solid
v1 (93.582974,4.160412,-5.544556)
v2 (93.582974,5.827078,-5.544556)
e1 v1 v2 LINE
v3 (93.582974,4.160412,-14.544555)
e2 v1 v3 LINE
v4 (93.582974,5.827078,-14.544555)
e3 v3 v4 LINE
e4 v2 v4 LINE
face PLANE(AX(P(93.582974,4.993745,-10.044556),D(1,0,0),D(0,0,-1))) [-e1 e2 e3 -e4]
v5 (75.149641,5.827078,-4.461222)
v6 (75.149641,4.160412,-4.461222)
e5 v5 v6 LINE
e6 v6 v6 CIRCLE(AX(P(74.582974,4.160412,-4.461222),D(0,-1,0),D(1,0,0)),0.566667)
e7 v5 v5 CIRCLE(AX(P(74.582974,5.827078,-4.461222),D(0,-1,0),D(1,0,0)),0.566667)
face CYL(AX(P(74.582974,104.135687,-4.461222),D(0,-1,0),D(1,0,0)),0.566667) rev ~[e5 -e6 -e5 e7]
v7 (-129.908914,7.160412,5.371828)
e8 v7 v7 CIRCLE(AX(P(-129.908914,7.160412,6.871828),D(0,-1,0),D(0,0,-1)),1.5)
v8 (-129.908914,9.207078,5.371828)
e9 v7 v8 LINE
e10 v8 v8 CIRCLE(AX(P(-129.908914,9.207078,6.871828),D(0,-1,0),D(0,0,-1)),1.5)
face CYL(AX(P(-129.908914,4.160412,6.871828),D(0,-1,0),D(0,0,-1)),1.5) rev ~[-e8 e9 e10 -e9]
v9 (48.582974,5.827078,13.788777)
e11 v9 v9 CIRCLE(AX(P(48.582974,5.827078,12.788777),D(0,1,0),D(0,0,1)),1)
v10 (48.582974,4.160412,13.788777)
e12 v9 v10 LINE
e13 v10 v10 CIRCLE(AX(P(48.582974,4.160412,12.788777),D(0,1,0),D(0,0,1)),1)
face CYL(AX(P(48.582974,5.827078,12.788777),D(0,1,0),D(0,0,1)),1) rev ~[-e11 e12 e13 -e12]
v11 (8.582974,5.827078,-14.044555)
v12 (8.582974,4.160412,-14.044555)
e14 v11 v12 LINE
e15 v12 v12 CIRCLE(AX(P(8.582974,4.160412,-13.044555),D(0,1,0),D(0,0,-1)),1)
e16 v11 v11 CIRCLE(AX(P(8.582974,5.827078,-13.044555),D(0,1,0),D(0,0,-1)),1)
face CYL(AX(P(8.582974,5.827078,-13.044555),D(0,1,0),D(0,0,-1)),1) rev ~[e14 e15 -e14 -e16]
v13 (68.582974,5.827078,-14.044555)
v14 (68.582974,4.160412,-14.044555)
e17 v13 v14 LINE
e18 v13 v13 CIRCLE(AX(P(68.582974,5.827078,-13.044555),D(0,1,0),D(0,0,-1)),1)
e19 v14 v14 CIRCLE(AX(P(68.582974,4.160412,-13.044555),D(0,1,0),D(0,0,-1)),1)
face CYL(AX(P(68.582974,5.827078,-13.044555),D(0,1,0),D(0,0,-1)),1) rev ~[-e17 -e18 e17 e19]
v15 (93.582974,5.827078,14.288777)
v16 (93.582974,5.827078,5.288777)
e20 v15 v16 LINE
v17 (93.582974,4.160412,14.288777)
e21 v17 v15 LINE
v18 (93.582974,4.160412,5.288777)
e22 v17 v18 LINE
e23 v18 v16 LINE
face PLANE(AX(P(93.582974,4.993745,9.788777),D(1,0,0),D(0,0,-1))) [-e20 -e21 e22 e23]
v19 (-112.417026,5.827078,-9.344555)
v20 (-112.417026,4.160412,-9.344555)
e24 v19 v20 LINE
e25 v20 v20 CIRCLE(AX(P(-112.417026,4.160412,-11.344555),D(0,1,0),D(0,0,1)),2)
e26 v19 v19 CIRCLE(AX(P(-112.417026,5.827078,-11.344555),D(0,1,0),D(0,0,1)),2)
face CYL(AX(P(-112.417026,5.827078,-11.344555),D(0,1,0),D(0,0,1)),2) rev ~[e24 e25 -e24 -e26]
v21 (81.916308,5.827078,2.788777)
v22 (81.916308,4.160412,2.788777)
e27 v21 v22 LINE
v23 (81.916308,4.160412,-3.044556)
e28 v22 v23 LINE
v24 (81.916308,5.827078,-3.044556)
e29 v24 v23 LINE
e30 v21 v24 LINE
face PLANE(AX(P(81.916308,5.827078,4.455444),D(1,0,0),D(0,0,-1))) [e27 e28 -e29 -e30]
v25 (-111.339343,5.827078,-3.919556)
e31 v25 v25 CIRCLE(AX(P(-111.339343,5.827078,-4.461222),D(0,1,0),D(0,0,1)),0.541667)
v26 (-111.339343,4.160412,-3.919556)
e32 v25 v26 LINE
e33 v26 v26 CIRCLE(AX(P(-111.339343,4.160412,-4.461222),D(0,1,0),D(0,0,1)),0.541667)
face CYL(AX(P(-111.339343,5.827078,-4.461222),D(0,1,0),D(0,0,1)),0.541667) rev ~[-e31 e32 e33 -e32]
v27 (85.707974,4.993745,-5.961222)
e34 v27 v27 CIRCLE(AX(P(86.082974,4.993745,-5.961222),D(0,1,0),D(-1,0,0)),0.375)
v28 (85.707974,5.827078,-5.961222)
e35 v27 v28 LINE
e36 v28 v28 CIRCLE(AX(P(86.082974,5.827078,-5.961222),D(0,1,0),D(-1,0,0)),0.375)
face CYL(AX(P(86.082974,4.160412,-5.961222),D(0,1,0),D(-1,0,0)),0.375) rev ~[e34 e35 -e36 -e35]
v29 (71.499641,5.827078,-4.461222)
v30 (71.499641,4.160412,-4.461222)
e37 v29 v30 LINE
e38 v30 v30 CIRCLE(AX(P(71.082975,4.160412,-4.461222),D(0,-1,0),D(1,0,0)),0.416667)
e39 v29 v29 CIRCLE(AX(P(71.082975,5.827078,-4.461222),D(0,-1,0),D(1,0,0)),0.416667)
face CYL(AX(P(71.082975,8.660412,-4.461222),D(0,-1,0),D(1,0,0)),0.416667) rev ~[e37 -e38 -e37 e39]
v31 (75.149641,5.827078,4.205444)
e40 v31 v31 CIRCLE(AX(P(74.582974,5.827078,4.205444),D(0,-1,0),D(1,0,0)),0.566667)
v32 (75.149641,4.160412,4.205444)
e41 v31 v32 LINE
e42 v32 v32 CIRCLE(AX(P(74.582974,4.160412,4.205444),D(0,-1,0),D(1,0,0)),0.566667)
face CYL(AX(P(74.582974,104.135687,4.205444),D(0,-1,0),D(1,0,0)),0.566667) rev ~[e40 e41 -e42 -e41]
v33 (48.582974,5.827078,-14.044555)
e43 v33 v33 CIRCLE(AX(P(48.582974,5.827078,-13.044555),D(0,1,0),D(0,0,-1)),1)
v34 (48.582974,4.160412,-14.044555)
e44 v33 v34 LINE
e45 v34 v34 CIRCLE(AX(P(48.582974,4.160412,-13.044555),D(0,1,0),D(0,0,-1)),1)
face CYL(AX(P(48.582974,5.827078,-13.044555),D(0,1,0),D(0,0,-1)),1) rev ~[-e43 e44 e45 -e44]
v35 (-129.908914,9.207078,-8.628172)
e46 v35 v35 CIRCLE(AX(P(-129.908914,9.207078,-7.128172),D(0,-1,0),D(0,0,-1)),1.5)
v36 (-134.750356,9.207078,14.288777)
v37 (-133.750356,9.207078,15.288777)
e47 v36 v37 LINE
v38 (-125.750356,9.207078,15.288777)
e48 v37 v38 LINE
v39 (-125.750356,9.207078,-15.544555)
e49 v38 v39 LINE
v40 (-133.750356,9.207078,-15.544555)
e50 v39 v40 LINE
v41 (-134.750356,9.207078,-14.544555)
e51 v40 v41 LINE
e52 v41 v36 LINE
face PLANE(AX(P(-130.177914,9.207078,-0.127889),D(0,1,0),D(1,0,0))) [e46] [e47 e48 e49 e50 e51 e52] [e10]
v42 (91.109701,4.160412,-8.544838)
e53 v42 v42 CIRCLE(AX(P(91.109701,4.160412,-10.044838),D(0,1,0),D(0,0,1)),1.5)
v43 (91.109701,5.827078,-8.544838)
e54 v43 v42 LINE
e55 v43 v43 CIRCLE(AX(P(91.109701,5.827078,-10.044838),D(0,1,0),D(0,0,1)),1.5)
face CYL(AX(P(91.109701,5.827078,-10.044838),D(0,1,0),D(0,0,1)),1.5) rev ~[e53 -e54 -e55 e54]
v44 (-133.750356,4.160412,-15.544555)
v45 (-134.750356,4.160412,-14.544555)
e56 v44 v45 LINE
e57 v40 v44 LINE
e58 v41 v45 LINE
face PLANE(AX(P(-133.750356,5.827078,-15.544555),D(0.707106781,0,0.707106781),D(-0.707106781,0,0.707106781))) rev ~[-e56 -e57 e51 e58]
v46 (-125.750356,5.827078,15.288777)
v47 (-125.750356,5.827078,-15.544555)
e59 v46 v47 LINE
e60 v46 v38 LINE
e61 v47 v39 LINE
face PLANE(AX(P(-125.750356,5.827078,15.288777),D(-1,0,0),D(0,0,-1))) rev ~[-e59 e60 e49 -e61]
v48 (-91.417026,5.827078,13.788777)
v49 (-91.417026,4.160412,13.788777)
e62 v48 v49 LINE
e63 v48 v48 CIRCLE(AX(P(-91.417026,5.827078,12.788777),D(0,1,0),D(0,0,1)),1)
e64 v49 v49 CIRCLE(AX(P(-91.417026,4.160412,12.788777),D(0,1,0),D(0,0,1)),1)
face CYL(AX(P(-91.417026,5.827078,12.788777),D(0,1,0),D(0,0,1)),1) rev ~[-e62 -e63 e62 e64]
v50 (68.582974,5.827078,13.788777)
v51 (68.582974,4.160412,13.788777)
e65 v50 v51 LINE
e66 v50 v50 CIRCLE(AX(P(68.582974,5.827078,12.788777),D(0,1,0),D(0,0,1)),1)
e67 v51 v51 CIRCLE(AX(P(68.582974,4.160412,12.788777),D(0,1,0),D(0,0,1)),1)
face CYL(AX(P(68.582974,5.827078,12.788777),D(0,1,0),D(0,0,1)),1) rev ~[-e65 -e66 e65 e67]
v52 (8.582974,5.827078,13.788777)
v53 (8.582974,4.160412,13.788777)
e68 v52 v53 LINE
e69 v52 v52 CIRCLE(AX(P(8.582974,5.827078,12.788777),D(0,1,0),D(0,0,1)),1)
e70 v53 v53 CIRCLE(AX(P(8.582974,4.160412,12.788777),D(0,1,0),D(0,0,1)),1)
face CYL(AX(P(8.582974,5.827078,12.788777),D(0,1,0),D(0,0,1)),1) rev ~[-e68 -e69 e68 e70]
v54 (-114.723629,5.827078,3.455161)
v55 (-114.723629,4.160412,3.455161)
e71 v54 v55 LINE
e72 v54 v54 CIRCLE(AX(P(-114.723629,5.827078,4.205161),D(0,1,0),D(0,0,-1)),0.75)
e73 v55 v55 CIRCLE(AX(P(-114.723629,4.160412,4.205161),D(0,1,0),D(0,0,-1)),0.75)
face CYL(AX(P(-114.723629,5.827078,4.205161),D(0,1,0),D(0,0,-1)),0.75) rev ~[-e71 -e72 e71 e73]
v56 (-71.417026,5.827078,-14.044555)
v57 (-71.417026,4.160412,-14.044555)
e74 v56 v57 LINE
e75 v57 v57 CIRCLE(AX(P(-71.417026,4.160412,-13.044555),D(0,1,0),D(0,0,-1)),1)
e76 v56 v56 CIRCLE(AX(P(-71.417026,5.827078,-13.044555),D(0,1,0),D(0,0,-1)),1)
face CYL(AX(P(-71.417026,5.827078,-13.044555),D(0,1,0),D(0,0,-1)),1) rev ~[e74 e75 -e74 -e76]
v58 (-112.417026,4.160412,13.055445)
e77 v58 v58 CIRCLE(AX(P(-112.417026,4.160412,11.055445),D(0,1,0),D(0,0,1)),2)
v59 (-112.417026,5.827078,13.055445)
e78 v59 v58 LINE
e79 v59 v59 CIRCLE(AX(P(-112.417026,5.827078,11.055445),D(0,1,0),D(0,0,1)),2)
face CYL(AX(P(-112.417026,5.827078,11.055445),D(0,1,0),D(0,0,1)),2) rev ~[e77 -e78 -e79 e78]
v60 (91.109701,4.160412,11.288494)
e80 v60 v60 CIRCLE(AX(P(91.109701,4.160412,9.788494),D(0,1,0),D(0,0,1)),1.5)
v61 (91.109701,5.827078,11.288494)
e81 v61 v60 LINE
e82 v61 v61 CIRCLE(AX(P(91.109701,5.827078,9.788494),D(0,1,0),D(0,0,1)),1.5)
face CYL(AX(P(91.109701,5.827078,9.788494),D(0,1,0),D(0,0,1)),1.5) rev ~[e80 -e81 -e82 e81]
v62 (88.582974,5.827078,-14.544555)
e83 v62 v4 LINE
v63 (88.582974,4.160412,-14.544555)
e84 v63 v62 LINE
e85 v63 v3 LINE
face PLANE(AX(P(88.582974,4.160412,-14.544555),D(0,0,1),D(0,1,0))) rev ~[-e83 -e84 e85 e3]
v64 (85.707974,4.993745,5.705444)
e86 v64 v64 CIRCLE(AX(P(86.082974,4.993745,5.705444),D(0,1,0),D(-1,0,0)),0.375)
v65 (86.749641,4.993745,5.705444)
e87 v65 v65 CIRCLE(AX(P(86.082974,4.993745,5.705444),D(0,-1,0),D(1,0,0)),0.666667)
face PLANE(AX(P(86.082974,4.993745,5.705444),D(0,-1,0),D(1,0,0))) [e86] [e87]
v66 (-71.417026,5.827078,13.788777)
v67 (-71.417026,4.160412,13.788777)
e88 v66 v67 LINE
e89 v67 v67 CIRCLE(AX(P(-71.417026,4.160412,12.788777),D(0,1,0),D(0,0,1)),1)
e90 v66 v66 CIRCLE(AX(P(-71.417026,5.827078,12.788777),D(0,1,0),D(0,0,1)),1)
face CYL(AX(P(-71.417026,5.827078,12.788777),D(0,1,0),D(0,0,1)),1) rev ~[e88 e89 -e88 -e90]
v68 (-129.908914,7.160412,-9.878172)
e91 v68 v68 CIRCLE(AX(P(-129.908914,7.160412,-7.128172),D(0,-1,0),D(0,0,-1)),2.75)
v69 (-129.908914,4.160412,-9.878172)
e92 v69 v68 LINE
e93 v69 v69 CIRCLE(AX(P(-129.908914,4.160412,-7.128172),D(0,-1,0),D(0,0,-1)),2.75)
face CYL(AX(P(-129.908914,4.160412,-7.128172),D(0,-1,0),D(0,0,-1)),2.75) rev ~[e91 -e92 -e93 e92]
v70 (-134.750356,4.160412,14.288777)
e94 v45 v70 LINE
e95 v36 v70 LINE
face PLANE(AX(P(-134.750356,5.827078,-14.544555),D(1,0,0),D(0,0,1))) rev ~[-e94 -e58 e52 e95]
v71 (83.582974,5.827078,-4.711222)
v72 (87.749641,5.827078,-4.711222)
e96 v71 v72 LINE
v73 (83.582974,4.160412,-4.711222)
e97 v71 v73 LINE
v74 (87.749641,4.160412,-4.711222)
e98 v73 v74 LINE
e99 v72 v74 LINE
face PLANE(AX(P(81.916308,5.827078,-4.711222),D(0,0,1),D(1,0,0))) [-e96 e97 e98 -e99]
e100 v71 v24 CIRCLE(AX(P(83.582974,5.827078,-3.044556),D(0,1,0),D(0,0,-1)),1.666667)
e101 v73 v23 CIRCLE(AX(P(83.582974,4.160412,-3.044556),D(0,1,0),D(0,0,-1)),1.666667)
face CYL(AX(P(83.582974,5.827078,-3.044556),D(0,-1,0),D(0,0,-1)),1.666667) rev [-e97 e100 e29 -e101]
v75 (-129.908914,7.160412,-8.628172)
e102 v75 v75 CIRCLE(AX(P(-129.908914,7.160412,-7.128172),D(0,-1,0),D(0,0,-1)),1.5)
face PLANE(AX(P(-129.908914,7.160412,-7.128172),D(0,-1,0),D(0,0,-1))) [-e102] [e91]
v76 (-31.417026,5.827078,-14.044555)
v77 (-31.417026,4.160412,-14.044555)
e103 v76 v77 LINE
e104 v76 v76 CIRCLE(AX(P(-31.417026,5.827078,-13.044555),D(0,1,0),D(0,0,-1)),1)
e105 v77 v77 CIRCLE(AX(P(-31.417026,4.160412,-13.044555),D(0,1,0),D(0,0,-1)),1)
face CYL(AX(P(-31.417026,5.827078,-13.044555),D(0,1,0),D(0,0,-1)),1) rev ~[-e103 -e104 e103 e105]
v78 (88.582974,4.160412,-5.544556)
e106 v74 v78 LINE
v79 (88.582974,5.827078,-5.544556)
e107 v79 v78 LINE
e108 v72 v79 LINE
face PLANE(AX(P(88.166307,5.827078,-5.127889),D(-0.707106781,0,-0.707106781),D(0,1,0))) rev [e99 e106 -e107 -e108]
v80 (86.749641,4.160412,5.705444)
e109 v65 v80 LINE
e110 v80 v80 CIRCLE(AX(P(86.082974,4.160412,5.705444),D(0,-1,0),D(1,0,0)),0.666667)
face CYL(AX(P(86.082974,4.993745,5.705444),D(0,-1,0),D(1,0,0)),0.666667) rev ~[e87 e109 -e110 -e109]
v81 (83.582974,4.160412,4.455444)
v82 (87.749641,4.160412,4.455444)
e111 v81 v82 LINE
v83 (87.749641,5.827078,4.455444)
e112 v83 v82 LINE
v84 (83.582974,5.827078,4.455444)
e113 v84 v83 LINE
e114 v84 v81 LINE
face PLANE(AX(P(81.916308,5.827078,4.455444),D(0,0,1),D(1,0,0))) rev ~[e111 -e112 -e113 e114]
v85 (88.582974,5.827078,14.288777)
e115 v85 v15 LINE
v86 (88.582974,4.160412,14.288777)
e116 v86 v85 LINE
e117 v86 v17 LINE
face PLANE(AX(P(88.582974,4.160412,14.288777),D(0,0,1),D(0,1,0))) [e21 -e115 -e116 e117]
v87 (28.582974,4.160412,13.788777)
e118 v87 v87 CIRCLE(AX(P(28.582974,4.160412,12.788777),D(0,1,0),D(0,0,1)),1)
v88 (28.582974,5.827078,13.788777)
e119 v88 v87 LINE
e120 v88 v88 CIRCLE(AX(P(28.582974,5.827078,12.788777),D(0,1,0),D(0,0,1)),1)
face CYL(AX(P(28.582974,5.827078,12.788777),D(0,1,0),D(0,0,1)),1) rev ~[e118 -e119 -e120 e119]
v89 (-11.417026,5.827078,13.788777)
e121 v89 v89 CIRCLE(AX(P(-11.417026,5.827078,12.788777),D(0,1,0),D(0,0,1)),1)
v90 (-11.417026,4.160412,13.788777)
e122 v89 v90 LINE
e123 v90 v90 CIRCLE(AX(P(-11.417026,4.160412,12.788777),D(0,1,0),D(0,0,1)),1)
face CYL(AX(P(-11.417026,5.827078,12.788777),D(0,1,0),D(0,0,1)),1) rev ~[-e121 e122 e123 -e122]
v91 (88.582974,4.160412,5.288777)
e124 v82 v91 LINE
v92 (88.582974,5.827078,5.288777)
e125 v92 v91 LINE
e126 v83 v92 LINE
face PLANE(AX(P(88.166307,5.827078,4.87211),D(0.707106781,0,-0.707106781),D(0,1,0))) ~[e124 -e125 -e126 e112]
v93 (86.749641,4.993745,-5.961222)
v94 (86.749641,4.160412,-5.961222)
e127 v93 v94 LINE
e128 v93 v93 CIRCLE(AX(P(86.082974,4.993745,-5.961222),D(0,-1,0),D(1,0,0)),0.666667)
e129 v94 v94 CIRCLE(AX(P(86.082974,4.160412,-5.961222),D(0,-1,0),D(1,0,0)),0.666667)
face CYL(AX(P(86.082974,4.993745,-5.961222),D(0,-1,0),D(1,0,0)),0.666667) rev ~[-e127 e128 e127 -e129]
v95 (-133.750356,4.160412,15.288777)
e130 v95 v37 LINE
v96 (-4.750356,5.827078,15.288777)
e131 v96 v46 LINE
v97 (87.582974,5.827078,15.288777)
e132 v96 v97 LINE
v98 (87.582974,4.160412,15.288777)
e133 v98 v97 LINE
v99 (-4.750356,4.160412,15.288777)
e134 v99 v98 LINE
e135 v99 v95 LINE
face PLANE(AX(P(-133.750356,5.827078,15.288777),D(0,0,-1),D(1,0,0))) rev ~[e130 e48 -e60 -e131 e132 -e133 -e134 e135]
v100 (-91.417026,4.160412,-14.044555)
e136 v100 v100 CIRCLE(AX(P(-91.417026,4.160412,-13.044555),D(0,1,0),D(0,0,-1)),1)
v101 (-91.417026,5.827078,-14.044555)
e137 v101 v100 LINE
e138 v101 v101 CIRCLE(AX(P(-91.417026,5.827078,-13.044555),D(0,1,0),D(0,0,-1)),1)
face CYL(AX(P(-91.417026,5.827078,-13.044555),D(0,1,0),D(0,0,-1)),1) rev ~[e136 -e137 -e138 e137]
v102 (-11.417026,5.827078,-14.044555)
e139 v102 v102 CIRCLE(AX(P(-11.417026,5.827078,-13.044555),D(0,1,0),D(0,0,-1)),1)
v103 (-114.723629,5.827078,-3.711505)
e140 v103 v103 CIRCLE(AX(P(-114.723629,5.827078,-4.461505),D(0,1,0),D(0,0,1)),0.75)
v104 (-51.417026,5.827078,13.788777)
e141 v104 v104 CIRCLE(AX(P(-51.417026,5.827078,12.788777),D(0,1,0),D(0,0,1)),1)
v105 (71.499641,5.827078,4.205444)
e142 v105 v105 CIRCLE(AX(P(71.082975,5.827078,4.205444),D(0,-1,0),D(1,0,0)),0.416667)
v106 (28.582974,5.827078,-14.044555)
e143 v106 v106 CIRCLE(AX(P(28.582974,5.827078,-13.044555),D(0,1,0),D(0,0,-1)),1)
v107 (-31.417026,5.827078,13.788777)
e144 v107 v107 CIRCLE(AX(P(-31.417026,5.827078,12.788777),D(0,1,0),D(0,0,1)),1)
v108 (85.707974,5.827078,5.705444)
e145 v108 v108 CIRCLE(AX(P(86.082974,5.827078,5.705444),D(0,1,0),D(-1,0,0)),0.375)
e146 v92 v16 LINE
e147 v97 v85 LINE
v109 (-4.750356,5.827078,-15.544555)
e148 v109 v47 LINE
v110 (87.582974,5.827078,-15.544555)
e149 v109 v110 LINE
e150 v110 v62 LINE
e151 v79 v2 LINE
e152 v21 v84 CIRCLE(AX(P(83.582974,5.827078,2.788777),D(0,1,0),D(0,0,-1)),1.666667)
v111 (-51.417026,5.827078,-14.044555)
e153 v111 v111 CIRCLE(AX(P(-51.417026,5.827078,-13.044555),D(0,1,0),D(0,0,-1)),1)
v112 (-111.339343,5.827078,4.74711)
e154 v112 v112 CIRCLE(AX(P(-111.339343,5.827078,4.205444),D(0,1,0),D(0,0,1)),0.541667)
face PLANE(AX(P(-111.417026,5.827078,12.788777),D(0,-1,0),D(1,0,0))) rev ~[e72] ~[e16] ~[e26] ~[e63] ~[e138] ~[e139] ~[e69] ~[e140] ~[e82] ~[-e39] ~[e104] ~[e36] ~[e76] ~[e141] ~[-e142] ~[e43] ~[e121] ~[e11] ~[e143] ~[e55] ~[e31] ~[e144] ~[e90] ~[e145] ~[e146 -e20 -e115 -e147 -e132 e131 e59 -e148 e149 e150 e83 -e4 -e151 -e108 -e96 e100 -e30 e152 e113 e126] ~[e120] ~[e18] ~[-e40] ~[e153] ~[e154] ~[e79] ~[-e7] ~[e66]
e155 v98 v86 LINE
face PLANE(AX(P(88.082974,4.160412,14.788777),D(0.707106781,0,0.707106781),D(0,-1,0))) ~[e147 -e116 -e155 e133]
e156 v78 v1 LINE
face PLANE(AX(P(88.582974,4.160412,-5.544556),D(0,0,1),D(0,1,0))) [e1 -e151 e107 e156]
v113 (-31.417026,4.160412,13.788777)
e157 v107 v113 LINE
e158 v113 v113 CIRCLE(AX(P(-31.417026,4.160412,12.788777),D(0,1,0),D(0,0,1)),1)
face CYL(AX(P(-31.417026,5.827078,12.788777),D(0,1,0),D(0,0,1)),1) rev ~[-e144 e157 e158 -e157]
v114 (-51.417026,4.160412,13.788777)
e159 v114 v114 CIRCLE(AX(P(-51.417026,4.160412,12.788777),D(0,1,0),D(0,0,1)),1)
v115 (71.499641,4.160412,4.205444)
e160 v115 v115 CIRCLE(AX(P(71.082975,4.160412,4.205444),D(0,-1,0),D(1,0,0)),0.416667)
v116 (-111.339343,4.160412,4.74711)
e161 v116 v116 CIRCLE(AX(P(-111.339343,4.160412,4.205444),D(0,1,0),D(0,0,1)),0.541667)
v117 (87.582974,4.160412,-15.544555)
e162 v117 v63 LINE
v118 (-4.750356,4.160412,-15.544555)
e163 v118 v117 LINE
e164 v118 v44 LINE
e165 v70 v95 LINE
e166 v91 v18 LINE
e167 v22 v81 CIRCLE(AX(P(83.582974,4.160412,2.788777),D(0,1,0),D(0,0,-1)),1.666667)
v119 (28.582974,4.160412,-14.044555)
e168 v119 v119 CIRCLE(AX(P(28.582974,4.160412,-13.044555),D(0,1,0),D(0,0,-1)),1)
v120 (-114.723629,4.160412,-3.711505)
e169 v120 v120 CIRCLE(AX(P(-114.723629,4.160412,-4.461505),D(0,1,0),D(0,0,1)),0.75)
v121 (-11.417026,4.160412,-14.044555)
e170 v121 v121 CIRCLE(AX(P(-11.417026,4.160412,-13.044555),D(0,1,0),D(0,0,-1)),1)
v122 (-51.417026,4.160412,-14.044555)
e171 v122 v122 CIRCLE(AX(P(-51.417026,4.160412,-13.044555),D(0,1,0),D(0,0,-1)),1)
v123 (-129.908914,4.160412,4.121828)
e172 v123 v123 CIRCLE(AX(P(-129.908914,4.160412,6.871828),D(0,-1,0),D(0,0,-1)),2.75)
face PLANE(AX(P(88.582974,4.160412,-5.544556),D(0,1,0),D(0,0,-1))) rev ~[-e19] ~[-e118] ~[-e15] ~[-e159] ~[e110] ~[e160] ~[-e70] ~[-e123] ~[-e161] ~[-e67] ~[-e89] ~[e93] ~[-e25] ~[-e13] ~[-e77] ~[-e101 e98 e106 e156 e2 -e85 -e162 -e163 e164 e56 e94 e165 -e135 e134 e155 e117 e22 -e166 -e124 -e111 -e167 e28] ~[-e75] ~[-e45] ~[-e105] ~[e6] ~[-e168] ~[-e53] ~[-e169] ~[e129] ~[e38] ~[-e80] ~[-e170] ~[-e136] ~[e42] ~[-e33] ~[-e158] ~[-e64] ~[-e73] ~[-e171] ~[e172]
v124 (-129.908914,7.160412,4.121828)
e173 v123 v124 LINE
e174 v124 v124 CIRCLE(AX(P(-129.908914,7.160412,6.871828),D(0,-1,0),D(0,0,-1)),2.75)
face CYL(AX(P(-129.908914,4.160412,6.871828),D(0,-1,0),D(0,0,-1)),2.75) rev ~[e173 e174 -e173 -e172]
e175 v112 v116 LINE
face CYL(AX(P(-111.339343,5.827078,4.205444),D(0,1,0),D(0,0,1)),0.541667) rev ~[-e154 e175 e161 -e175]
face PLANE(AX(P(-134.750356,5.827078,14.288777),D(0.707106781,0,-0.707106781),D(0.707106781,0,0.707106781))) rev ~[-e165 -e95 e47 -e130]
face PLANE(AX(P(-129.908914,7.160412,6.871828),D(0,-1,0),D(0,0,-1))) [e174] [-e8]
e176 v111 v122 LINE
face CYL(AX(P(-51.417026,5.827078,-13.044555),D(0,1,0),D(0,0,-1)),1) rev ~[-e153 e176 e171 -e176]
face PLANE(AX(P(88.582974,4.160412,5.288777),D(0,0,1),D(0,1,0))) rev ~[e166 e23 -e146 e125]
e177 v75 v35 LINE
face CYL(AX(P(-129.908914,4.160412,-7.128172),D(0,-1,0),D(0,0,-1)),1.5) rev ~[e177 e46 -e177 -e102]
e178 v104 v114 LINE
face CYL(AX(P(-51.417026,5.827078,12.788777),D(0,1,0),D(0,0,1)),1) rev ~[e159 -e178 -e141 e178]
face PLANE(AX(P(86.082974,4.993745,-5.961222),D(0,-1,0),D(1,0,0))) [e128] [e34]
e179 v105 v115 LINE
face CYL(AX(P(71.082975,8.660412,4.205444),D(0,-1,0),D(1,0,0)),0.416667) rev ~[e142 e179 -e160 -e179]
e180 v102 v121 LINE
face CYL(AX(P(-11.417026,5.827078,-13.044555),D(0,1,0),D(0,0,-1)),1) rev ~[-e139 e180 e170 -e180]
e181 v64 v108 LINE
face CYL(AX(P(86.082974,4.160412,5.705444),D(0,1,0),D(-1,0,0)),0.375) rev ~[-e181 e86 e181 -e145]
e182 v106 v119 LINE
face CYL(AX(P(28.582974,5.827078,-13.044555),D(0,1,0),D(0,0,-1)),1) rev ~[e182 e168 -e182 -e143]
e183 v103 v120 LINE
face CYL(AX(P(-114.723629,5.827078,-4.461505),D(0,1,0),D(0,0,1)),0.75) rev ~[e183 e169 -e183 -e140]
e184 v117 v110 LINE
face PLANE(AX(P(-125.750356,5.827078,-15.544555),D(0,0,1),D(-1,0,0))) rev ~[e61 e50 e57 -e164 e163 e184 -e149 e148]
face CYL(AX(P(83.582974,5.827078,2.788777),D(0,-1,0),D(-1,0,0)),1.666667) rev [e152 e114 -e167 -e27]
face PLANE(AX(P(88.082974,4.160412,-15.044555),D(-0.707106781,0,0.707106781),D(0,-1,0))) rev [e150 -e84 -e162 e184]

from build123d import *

# Parameters (mm, degrees)
SKETCH1_W                                       = 560
SKETCH1_H                                       = 185
BOSS_EXTRUDE1_DEPTH                             = 10
CBORE_FOR_M6_SOCKET_HEAD_CAP_SCREW1_D           = 6.6
CBORE_FOR_M6_SOCKET_HEAD_CAP_SCREW1_CBORE_D     = 11
CBORE_FOR_M6_SOCKET_HEAD_CAP_SCREW1_CBORE_DEPTH = 6
SKETCH4_W                                       = 40
SKETCH4_H                                       = 55
CUT_EXTRUDE1_DEPTH                              = 340.497422671
FILLET1_R                                       = 10
CHAMFER1_SIZE                                   = 5
CBORE_FOR_M4_SOCKET_HEAD_CAP_SCREW1_D           = 4.5
CBORE_FOR_M4_SOCKET_HEAD_CAP_SCREW1_CBORE_D     = 8
CBORE_FOR_M4_SOCKET_HEAD_CAP_SCREW1_CBORE_DEPTH = 5
M8X1_25_TAPPED_HOLE1_D                          = 6.8
M6X1_0_TAPPED_HOLE1_D                           = 5
M6X1_0_TAPPED_HOLE1_DEPTH                       = 17
M6X1_0_TAPPED_HOLE1_TIP                         = 1.502151548
CBORE_FOR_M5_SOCKET_HEAD_CAP_SCREW1_D           = 5.5
CBORE_FOR_M5_SOCKET_HEAD_CAP_SCREW1_CBORE_D     = 10
CBORE_FOR_M5_SOCKET_HEAD_CAP_SCREW1_CBORE_DEPTH = 5
LPATTERN2_COUNT                                 = 2
LPATTERN2_PITCH                                 = 250
LPATTERN2_COUNT_DIR2                            = 2
LPATTERN2_PITCH_DIR2                            = 100
SCALE1_SCALE                                    = 0.16666666
SKETCH17_W                                      = 30.8333321
SKETCH17_H                                      = 1.6666666
BOSS_EXTRUDE3_DEPTH                             = 130
CHAMFER2_SIZE                                   = 1
CUT_EXTRUDE3_REACH                              = 137.654
SKETCH19_R                                      = 0.74999997
CUT_EXTRUDE4_REACH                              = 137.654
SKETCH20_R                                      = 0.541666645
BOSS_EXTRUDE4_DEPTH                             = 3.38
SKETCH23_W                                      = 8.9999996
SKETCH23_H                                      = 1.6666666
BOSS_EXTRUDE5_DEPTH                             = 5
CUT_EXTRUDE5_REACH                              = 137.686
SKETCH24_R                                      = 1.5
CUT_EXTRUDE6_REACH                              = 137.738
SKETCH25_R                                      = 1.5
SKETCH26_R                                      = 2.75
CUT_EXTRUDE7_DEPTH                              = 3
SKETCH27_R                                      = 0.8333333
SKETCH27_R_2                                    = 0.41666665
SKETCH27_R_3                                    = 0.566666644
BOSS_EXTRUDE7_DEPTH                             = 1.6666666
SKETCH28_R                                      = 0.8333333
SKETCH28_R_2                                    = 0.91666663
BOSS_EXTRUDE8_DEPTH                             = 1.6666666
CUT_EXTRUDE8_REACH                              = 137.686
SKETCH29_R                                      = 1
BOSS_EXTRUDE9_START                             = -1.6666666
SKETCH31_R                                      = 1
BOSS_EXTRUDE9_DEPTH                             = 1.6666666
CUT_EXTRUDE9_REACH                              = 137.686
SKETCH33_R                                      = 2


with BuildPart() as part:
    # Sketch1 → Boss-Extrude1 (new body)
    with BuildSketch(Plane(origin=(0, 0, 0), x_dir=(1, 0, 0), z_dir=(0, 1, 0))):
        with Locations((46.5, 0)):
            Rectangle(SKETCH1_W, SKETCH1_H)
    extrude(amount=BOSS_EXTRUDE1_DEPTH)

    # CBORE for M6 Socket Head Cap Screw1 (through all)
    with Locations(Plane(origin=(0, 10, 0), x_dir=(-1, 0, 0), z_dir=(0, 1, 0))):
        with Locations((26, 44.5), (26, 64.5), (-26, 44.5), (-26, 64.5)):
            CounterBoreHole(CBORE_FOR_M6_SOCKET_HEAD_CAP_SCREW1_D / 2, CBORE_FOR_M6_SOCKET_HEAD_CAP_SCREW1_CBORE_D / 2, CBORE_FOR_M6_SOCKET_HEAD_CAP_SCREW1_CBORE_DEPTH)

    # Sketch4 → Cut-Extrude1 (cut, through all)
    with BuildSketch(Plane(origin=(0, 10, 0), x_dir=(1, 0, 0), z_dir=(0, 1, 0))):
        with Locations((306.5, 0)):
            Rectangle(SKETCH4_W, SKETCH4_H)
    extrude(amount=-CUT_EXTRUDE1_DEPTH, mode=Mode.SUBTRACT)

    # Fillet1
    fillet1_edges = [part.edges().sort_by_distance(p)[0] for p in [
        (286.5, 5, 27.5),
        (286.5, 5, -27.5),
    ]]
    fillet(fillet1_edges, radius=FILLET1_R)

    # Chamfer1
    chamfer1_edges = [part.edges().sort_by_distance(p)[0] for p in [
        (326.5, 5, -27.5),
        (326.5, 5, 27.5),
    ]]
    chamfer(chamfer1_edges, length=CHAMFER1_SIZE)

    # CBORE for M4 Socket Head Cap Screw1 (through all)
    with Locations(Plane.XZ):
        with Locations((311.5, 35), (311.5, -35)):
            CounterBoreHole(CBORE_FOR_M4_SOCKET_HEAD_CAP_SCREW1_D / 2, CBORE_FOR_M4_SOCKET_HEAD_CAP_SCREW1_CBORE_D / 2, CBORE_FOR_M4_SOCKET_HEAD_CAP_SCREW1_CBORE_DEPTH)

    # M8x1.25 Tapped Hole1 (through all)
    with Locations(Plane(origin=(0, 10, 0), x_dir=(-1, 0, 0), z_dir=(0, 1, 0))):
        with Locations((-242.5, 26), (-242.5, -26), (162, 26), (162, -26)):
            Hole(M8X1_25_TAPPED_HOLE1_D / 2)

    # M6x1.0 Tapped Hole1
    with Locations(Plane(origin=(0, 10, 0), x_dir=(-1, 0, 0), z_dir=(0, 1, 0))):
        with Locations((143, 26), (143, -26), (-221.5, 26), (-221.5, -26)):
            Hole(M6X1_0_TAPPED_HOLE1_D / 2, depth=M6X1_0_TAPPED_HOLE1_DEPTH)
            with Locations((0, 0, -(M6X1_0_TAPPED_HOLE1_DEPTH + M6X1_0_TAPPED_HOLE1_TIP / 2))):  # 118° drill point
                Cone(0, M6X1_0_TAPPED_HOLE1_D / 2, M6X1_0_TAPPED_HOLE1_TIP, mode=Mode.SUBTRACT)

    # CBORE for M5 Socket Head Cap Screw1 (through all)
    with Locations(Plane(origin=(0, 10, 0), x_dir=(-1, 0, 0), z_dir=(0, 1, 0))):
        with Locations((-109, 50), (-141, 50)):
            cbore_for_m5_socket_head_cap_screw1 = CounterBoreHole(CBORE_FOR_M5_SOCKET_HEAD_CAP_SCREW1_D / 2, CBORE_FOR_M5_SOCKET_HEAD_CAP_SCREW1_CBORE_D / 2, CBORE_FOR_M5_SOCKET_HEAD_CAP_SCREW1_CBORE_DEPTH)

    # Lpattern2: CBORE for M5 Socket Head Cap Screw1 2 × 2
    with Locations(*[(-i * LPATTERN2_PITCH, 0, -j * LPATTERN2_PITCH_DIR2) for i in range(LPATTERN2_COUNT) for j in range(LPATTERN2_COUNT_DIR2) if (i, j) != (0, 0)]):
        add(cbore_for_m5_socket_head_cap_screw1, mode=Mode.SUBTRACT)


with BuildPart() as part_1:
    # Scale1: scaled about (40.999570981, 4.992494178, -0.153467199)
    add(part.part.scale(SCALE1_SCALE).moved(Location((34.166309424, 4.160411848, -0.127889334))))

    # Sketch17 → Boss-Extrude3 (add)
    with BuildSketch(Plane.ZY.offset(4.750355686)):
        with Locations((-0.127889333, 4.993745148)):
            Rectangle(SKETCH17_W, SKETCH17_H)
    extrude(amount=BOSS_EXTRUDE3_DEPTH)

    # Chamfer2
    chamfer2_edges = [part_1.edges().sort_by_distance(p)[0] for p in [
        (-134.750355686, 4.993745148, -15.544555383),
        (-134.750355686, 4.993745148, 15.288776717),
        (88.582973914, 4.993745148, -15.544555384),
        (88.582973914, 4.993745148, 15.288776716),
    ]]
    chamfer(chamfer2_edges, length=CHAMFER2_SIZE)

    # Sketch19 → Cut-Extrude3 (cut, up to next)
    with BuildSketch(Plane(origin=(0, 5.827078448, 0), x_dir=(1, 0, 0), z_dir=(0, 1, 0)), mode=Mode.PRIVATE) as cut_extrude3_sk1:
        with Locations(Location((-114.723628525, -4.20516094, 0), (0, 0, 90))):
            Circle(SKETCH19_R)
    cut_extrude3_tool1 = extrude(cut_extrude3_sk1.sketch, amount=-CUT_EXTRUDE3_REACH, mode=Mode.PRIVATE) & part_1.part
    # Sketch19 → Cut-Extrude3 (cut, up to next)
    with BuildSketch(Plane(origin=(0, 5.827078448, 0), x_dir=(1, 0, 0), z_dir=(0, 1, 0)), mode=Mode.PRIVATE) as cut_extrude3_sk2:
        with Locations(Location((-114.723628525, 4.46150538, 0), (0, 0, 270))):
            Circle(SKETCH19_R)
    cut_extrude3_tool2 = extrude(cut_extrude3_sk2.sketch, amount=-CUT_EXTRUDE3_REACH, mode=Mode.PRIVATE) & part_1.part
    add(cut_extrude3_tool1.solids().sort_by_distance((-114.723629, 5.827078, 4.205161))[0], mode=Mode.SUBTRACT)
    add(cut_extrude3_tool2.solids().sort_by_distance((-114.723629, 5.827078, -4.461505))[0], mode=Mode.SUBTRACT)

    # Sketch20 → Cut-Extrude4 (cut, up to next)
    with BuildSketch(Plane(origin=(0, 5.827078448, 0), x_dir=(1, 0, 0), z_dir=(0, 1, 0)), mode=Mode.PRIVATE) as cut_extrude4_sk1:
        with Locations(Location((-111.3393435, 4.461222493, 0), (0, 0, 270))):
            Circle(SKETCH20_R)
    cut_extrude4_tool1 = extrude(cut_extrude4_sk1.sketch, amount=-CUT_EXTRUDE4_REACH, mode=Mode.PRIVATE) & part_1.part
    # Sketch20 → Cut-Extrude4 (cut, up to next)
    with BuildSketch(Plane(origin=(0, 5.827078448, 0), x_dir=(1, 0, 0), z_dir=(0, 1, 0)), mode=Mode.PRIVATE) as cut_extrude4_sk2:
        with Locations(Location((-111.3393435, -4.205443827, 0), (0, 0, 270))):
            Circle(SKETCH20_R)
    cut_extrude4_tool2 = extrude(cut_extrude4_sk2.sketch, amount=-CUT_EXTRUDE4_REACH, mode=Mode.PRIVATE) & part_1.part
    add(cut_extrude4_tool1.solids().sort_by_distance((-111.339344, 5.827078, -4.461222))[0], mode=Mode.SUBTRACT)
    add(cut_extrude4_tool2.solids().sort_by_distance((-111.339344, 5.827078, 4.205444))[0], mode=Mode.SUBTRACT)

    # Sketch22 → Boss-Extrude4 (add)
    with BuildSketch(Plane(origin=(0, 5.827078448, 0), x_dir=(1, 0, 0), z_dir=(0, 1, 0))):
        Polygon((-134.750355686, -14.288776717), (-133.750355686, -15.288776717), (-125.750355686, -15.288776717), (-125.750355686, 15.544555383), (-133.750355686, 15.544555383), (-134.750355686, 14.544555383), align=None)
    extrude(amount=BOSS_EXTRUDE4_DEPTH)

    # Sketch23 → Boss-Extrude5 (add)
    with BuildSketch(Plane(origin=(88.582973914, 0, 0), x_dir=(0, 0, -1), z_dir=(1, 0, 0))):
        with Locations((10.044555583, 4.993745148)):
            Rectangle(SKETCH23_W, SKETCH23_H)
        with Locations((-9.788776917, 4.993745148)):
            Rectangle(SKETCH23_W, SKETCH23_H)
    extrude(amount=BOSS_EXTRUDE5_DEPTH)

    # Sketch24 → Cut-Extrude5 (cut, up to next)
    with BuildSketch(Plane(origin=(0, 5.827078448, 0), x_dir=(1, 0, 0), z_dir=(0, 1, 0)), mode=Mode.PRIVATE) as cut_extrude5_sk1:
        with Locations(Location((91.109701075, 10.04483847, 0), (0, 0, 270))):
            Circle(SKETCH24_R)
    cut_extrude5_tool1 = extrude(cut_extrude5_sk1.sketch, amount=-CUT_EXTRUDE5_REACH, mode=Mode.PRIVATE) & part_1.part
    # Sketch24 → Cut-Extrude5 (cut, up to next)
    with BuildSketch(Plane(origin=(0, 5.827078448, 0), x_dir=(1, 0, 0), z_dir=(0, 1, 0)), mode=Mode.PRIVATE) as cut_extrude5_sk2:
        with Locations(Location((91.109701075, -9.78849403, 0), (0, 0, 270))):
            Circle(SKETCH24_R)
    cut_extrude5_tool2 = extrude(cut_extrude5_sk2.sketch, amount=-CUT_EXTRUDE5_REACH, mode=Mode.PRIVATE) & part_1.part
    add(cut_extrude5_tool1.solids().sort_by_distance((91.109701, 5.827078, -10.044838))[0], mode=Mode.SUBTRACT)
    add(cut_extrude5_tool2.solids().sort_by_distance((91.109701, 5.827078, 9.788494))[0], mode=Mode.SUBTRACT)

    # Sketch25 → Cut-Extrude6 (cut, up to next)
    with BuildSketch(Plane.XZ.offset(-4.160411848), mode=Mode.PRIVATE) as cut_extrude6_sk1:
        with Locations(Location((-129.908913611, -7.12817222, 0), (0, 0, 270))):
            Circle(SKETCH25_R)
    cut_extrude6_tool1 = extrude(cut_extrude6_sk1.sketch, amount=-CUT_EXTRUDE6_REACH, mode=Mode.PRIVATE) & part_1.part
    # Sketch25 → Cut-Extrude6 (cut, up to next)
    with BuildSketch(Plane.XZ.offset(-4.160411848), mode=Mode.PRIVATE) as cut_extrude6_sk2:
        with Locations(Location((-129.908913611, 6.87182778, 0), (0, 0, 270))):
            Circle(SKETCH25_R)
    cut_extrude6_tool2 = extrude(cut_extrude6_sk2.sketch, amount=-CUT_EXTRUDE6_REACH, mode=Mode.PRIVATE) & part_1.part
    add(cut_extrude6_tool1.solids().sort_by_distance((-129.908914, 4.160412, -7.128172))[0], mode=Mode.SUBTRACT)
    add(cut_extrude6_tool2.solids().sort_by_distance((-129.908914, 4.160412, 6.871828))[0], mode=Mode.SUBTRACT)

    # Sketch26 → Cut-Extrude7 (cut)
    with BuildSketch(Plane.XZ.offset(-4.160411848)):
        with Locations(Location((-129.908913611, -7.12817222, 0), (0, 0, 270))):
            Circle(SKETCH26_R)
        with Locations(Location((-129.908913611, 6.87182778, 0), (0, 0, 270))):
            Circle(SKETCH26_R)
    extrude(amount=-CUT_EXTRUDE7_DEPTH, mode=Mode.SUBTRACT)

    # Sketch27 → Boss-Extrude7 (add)
    with BuildSketch(Plane(origin=(0, 5.827078448, 0), x_dir=(1, 0, 0), z_dir=(0, 1, 0))):
        with Locations((15.999643484, -8.205443667)):
            Circle(SKETCH27_R)
        with Locations((10.666310364, -8.205443667)):
            Circle(SKETCH27_R)
        with Locations((10.332977044, -4.205443827)):
            Circle(SKETCH27_R_2)
        with Locations((7.166310504, -4.205443827)):
            Circle(SKETCH27_R_3)
        with Locations((7.166310504, 4.461222493)):
            Circle(SKETCH27_R_3)
        with Locations((10.332977044, 4.461222493)):
            Circle(SKETCH27_R_2)
        with Locations((10.666310364, 8.461222333)):
            Circle(SKETCH27_R)
        with Locations((15.999643484, 8.461222333)):
            Circle(SKETCH27_R)
    extrude(amount=-BOSS_EXTRUDE7_DEPTH)

    # Sketch28 → Boss-Extrude8 (add)
    with BuildSketch(Plane(origin=(0, 5.827078448, 0), x_dir=(1, 0, 0), z_dir=(0, 1, 0))):
        with Locations((57.666308484, 8.461222333)):
            Circle(SKETCH28_R)
        with Locations((52.332975364, 8.461222333)):
            Circle(SKETCH28_R)
        with Locations((57.666308484, -8.205443667)):
            Circle(SKETCH28_R)
        with Locations((52.332975364, -8.205443667)):
            Circle(SKETCH28_R)
        with Locations((29.832976264, -7.288777037)):
            Circle(SKETCH28_R_2)
        with Locations((29.832976264, -10.622110237)):
            Circle(SKETCH28_R_2)
        with Locations((38.499642584, -10.622110237)):
            Circle(SKETCH28_R_2)
        with Locations((38.499642584, -7.288777037)):
            Circle(SKETCH28_R_2)
    extrude(amount=-BOSS_EXTRUDE8_DEPTH)

    # Sketch29 → Cut-Extrude8 (cut, up to next)
    with BuildSketch(Plane(origin=(0, 5.827078448, 0), x_dir=(1, 0, 0), z_dir=(0, 1, 0)), mode=Mode.PRIVATE) as cut_extrude8_sk1:
        with Locations(Location((68.582973914, -12.788776717, 0), (0, 0, 270))):
            Circle(SKETCH29_R)
    cut_extrude8_tool1 = extrude(cut_extrude8_sk1.sketch, amount=-CUT_EXTRUDE8_REACH, mode=Mode.PRIVATE) & part_1.part
    # Sketch29 → Cut-Extrude8 (cut, up to next)
    with BuildSketch(Plane(origin=(0, 5.827078448, 0), x_dir=(1, 0, 0), z_dir=(0, 1, 0)), mode=Mode.PRIVATE) as cut_extrude8_sk2:
        with Locations(Location((48.582973914, -12.788776717, 0), (0, 0, 270))):
            Circle(SKETCH29_R)
    cut_extrude8_tool2 = extrude(cut_extrude8_sk2.sketch, amount=-CUT_EXTRUDE8_REACH, mode=Mode.PRIVATE) & part_1.part
    # Sketch29 → Cut-Extrude8 (cut, up to next)
    with BuildSketch(Plane(origin=(0, 5.827078448, 0), x_dir=(1, 0, 0), z_dir=(0, 1, 0)), mode=Mode.PRIVATE) as cut_extrude8_sk3:
        with Locations(Location((28.582973914, -12.788776717, 0), (0, 0, 270))):
            Circle(SKETCH29_R)
    cut_extrude8_tool3 = extrude(cut_extrude8_sk3.sketch, amount=-CUT_EXTRUDE8_REACH, mode=Mode.PRIVATE) & part_1.part
    # Sketch29 → Cut-Extrude8 (cut, up to next)
    with BuildSketch(Plane(origin=(0, 5.827078448, 0), x_dir=(1, 0, 0), z_dir=(0, 1, 0)), mode=Mode.PRIVATE) as cut_extrude8_sk4:
        with Locations(Location((8.582973914, -12.788776717, 0), (0, 0, 270))):
            Circle(SKETCH29_R)
    cut_extrude8_tool4 = extrude(cut_extrude8_sk4.sketch, amount=-CUT_EXTRUDE8_REACH, mode=Mode.PRIVATE) & part_1.part
    # Sketch29 → Cut-Extrude8 (cut, up to next)
    with BuildSketch(Plane(origin=(0, 5.827078448, 0), x_dir=(1, 0, 0), z_dir=(0, 1, 0)), mode=Mode.PRIVATE) as cut_extrude8_sk5:
        with Locations(Location((-11.417026086, -12.788776717, 0), (0, 0, 270))):
            Circle(SKETCH29_R)
    cut_extrude8_tool5 = extrude(cut_extrude8_sk5.sketch, amount=-CUT_EXTRUDE8_REACH, mode=Mode.PRIVATE) & part_1.part
    # Sketch29 → Cut-Extrude8 (cut, up to next)
    with BuildSketch(Plane(origin=(0, 5.827078448, 0), x_dir=(1, 0, 0), z_dir=(0, 1, 0)), mode=Mode.PRIVATE) as cut_extrude8_sk6:
        with Locations(Location((-31.417026086, -12.788776717, 0), (0, 0, 270))):
            Circle(SKETCH29_R)
    cut_extrude8_tool6 = extrude(cut_extrude8_sk6.sketch, amount=-CUT_EXTRUDE8_REACH, mode=Mode.PRIVATE) & part_1.part
    # Sketch29 → Cut-Extrude8 (cut, up to next)
    with BuildSketch(Plane(origin=(0, 5.827078448, 0), x_dir=(1, 0, 0), z_dir=(0, 1, 0)), mode=Mode.PRIVATE) as cut_extrude8_sk7:
        with Locations(Location((-51.417026086, -12.788776717, 0), (0, 0, 270))):
            Circle(SKETCH29_R)
    cut_extrude8_tool7 = extrude(cut_extrude8_sk7.sketch, amount=-CUT_EXTRUDE8_REACH, mode=Mode.PRIVATE) & part_1.part
    # Sketch29 → Cut-Extrude8 (cut, up to next)
    with BuildSketch(Plane(origin=(0, 5.827078448, 0), x_dir=(1, 0, 0), z_dir=(0, 1, 0)), mode=Mode.PRIVATE) as cut_extrude8_sk8:
        with Locations(Location((-71.417026086, -12.788776717, 0), (0, 0, 270))):
            Circle(SKETCH29_R)
    cut_extrude8_tool8 = extrude(cut_extrude8_sk8.sketch, amount=-CUT_EXTRUDE8_REACH, mode=Mode.PRIVATE) & part_1.part
    # Sketch29 → Cut-Extrude8 (cut, up to next)
    with BuildSketch(Plane(origin=(0, 5.827078448, 0), x_dir=(1, 0, 0), z_dir=(0, 1, 0)), mode=Mode.PRIVATE) as cut_extrude8_sk9:
        with Locations(Location((-91.417026086, -12.788776717, 0), (0, 0, 270))):
            Circle(SKETCH29_R)
    cut_extrude8_tool9 = extrude(cut_extrude8_sk9.sketch, amount=-CUT_EXTRUDE8_REACH, mode=Mode.PRIVATE) & part_1.part
    # Sketch29 → Cut-Extrude8 (cut, up to next)
    with BuildSketch(Plane(origin=(0, 5.827078448, 0), x_dir=(1, 0, 0), z_dir=(0, 1, 0)), mode=Mode.PRIVATE) as cut_extrude8_sk10:
        with Locations(Location((-111.417026086, -12.788776717, 0), (0, 0, 270))):
            Circle(SKETCH29_R)
    cut_extrude8_tool10 = extrude(cut_extrude8_sk10.sketch, amount=-CUT_EXTRUDE8_REACH, mode=Mode.PRIVATE) & part_1.part
    # Sketch29 → Cut-Extrude8 (cut, up to next)
    with BuildSketch(Plane(origin=(0, 5.827078448, 0), x_dir=(1, 0, 0), z_dir=(0, 1, 0)), mode=Mode.PRIVATE) as cut_extrude8_sk11:
        with Locations(Location((68.582973914, 13.044555383, 0), (0, 0, 90))):
            Circle(SKETCH29_R)
    cut_extrude8_tool11 = extrude(cut_extrude8_sk11.sketch, amount=-CUT_EXTRUDE8_REACH, mode=Mode.PRIVATE) & part_1.part
    # Sketch29 → Cut-Extrude8 (cut, up to next)
    with BuildSketch(Plane(origin=(0, 5.827078448, 0), x_dir=(1, 0, 0), z_dir=(0, 1, 0)), mode=Mode.PRIVATE) as cut_extrude8_sk12:
        with Locations(Location((48.582973914, 13.044555383, 0), (0, 0, 90))):
            Circle(SKETCH29_R)
    cut_extrude8_tool12 = extrude(cut_extrude8_sk12.sketch, amount=-CUT_EXTRUDE8_REACH, mode=Mode.PRIVATE) & part_1.part
    # Sketch29 → Cut-Extrude8 (cut, up to next)
    with BuildSketch(Plane(origin=(0, 5.827078448, 0), x_dir=(1, 0, 0), z_dir=(0, 1, 0)), mode=Mode.PRIVATE) as cut_extrude8_sk13:
        with Locations(Location((28.582973914, 13.044555383, 0), (0, 0, 90))):
            Circle(SKETCH29_R)
    cut_extrude8_tool13 = extrude(cut_extrude8_sk13.sketch, amount=-CUT_EXTRUDE8_REACH, mode=Mode.PRIVATE) & part_1.part
    # Sketch29 → Cut-Extrude8 (cut, up to next)
    with BuildSketch(Plane(origin=(0, 5.827078448, 0), x_dir=(1, 0, 0), z_dir=(0, 1, 0)), mode=Mode.PRIVATE) as cut_extrude8_sk14:
        with Locations(Location((8.582973914, 13.044555383, 0), (0, 0, 90))):
            Circle(SKETCH29_R)
    cut_extrude8_tool14 = extrude(cut_extrude8_sk14.sketch, amount=-CUT_EXTRUDE8_REACH, mode=Mode.PRIVATE) & part_1.part
    # Sketch29 → Cut-Extrude8 (cut, up to next)
    with BuildSketch(Plane(origin=(0, 5.827078448, 0), x_dir=(1, 0, 0), z_dir=(0, 1, 0)), mode=Mode.PRIVATE) as cut_extrude8_sk15:
        with Locations(Location((-11.417026086, 13.044555383, 0), (0, 0, 90))):
            Circle(SKETCH29_R)
    cut_extrude8_tool15 = extrude(cut_extrude8_sk15.sketch, amount=-CUT_EXTRUDE8_REACH, mode=Mode.PRIVATE) & part_1.part
    # Sketch29 → Cut-Extrude8 (cut, up to next)
    with BuildSketch(Plane(origin=(0, 5.827078448, 0), x_dir=(1, 0, 0), z_dir=(0, 1, 0)), mode=Mode.PRIVATE) as cut_extrude8_sk16:
        with Locations(Location((-31.417026086, 13.044555383, 0), (0, 0, 90))):
            Circle(SKETCH29_R)
    cut_extrude8_tool16 = extrude(cut_extrude8_sk16.sketch, amount=-CUT_EXTRUDE8_REACH, mode=Mode.PRIVATE) & part_1.part
    # Sketch29 → Cut-Extrude8 (cut, up to next)
    with BuildSketch(Plane(origin=(0, 5.827078448, 0), x_dir=(1, 0, 0), z_dir=(0, 1, 0)), mode=Mode.PRIVATE) as cut_extrude8_sk17:
        with Locations(Location((-51.417026086, 13.044555383, 0), (0, 0, 90))):
            Circle(SKETCH29_R)
    cut_extrude8_tool17 = extrude(cut_extrude8_sk17.sketch, amount=-CUT_EXTRUDE8_REACH, mode=Mode.PRIVATE) & part_1.part
    # Sketch29 → Cut-Extrude8 (cut, up to next)
    with BuildSketch(Plane(origin=(0, 5.827078448, 0), x_dir=(1, 0, 0), z_dir=(0, 1, 0)), mode=Mode.PRIVATE) as cut_extrude8_sk18:
        with Locations(Location((-71.417026086, 13.044555383, 0), (0, 0, 90))):
            Circle(SKETCH29_R)
    cut_extrude8_tool18 = extrude(cut_extrude8_sk18.sketch, amount=-CUT_EXTRUDE8_REACH, mode=Mode.PRIVATE) & part_1.part
    # Sketch29 → Cut-Extrude8 (cut, up to next)
    with BuildSketch(Plane(origin=(0, 5.827078448, 0), x_dir=(1, 0, 0), z_dir=(0, 1, 0)), mode=Mode.PRIVATE) as cut_extrude8_sk19:
        with Locations(Location((-91.417026086, 13.044555383, 0), (0, 0, 90))):
            Circle(SKETCH29_R)
    cut_extrude8_tool19 = extrude(cut_extrude8_sk19.sketch, amount=-CUT_EXTRUDE8_REACH, mode=Mode.PRIVATE) & part_1.part
    # Sketch29 → Cut-Extrude8 (cut, up to next)
    with BuildSketch(Plane(origin=(0, 5.827078448, 0), x_dir=(1, 0, 0), z_dir=(0, 1, 0)), mode=Mode.PRIVATE) as cut_extrude8_sk20:
        with Locations(Location((-111.417026086, 13.044555383, 0), (0, 0, 90))):
            Circle(SKETCH29_R)
    cut_extrude8_tool20 = extrude(cut_extrude8_sk20.sketch, amount=-CUT_EXTRUDE8_REACH, mode=Mode.PRIVATE) & part_1.part
    add(cut_extrude8_tool1.solids().sort_by_distance((68.582974, 5.827078, 12.788777))[0], mode=Mode.SUBTRACT)
    add(cut_extrude8_tool2.solids().sort_by_distance((48.582974, 5.827078, 12.788777))[0], mode=Mode.SUBTRACT)
    add(cut_extrude8_tool3.solids().sort_by_distance((28.582974, 5.827078, 12.788777))[0], mode=Mode.SUBTRACT)
    add(cut_extrude8_tool4.solids().sort_by_distance((8.582974, 5.827078, 12.788777))[0], mode=Mode.SUBTRACT)
    add(cut_extrude8_tool5.solids().sort_by_distance((-11.417026, 5.827078, 12.788777))[0], mode=Mode.SUBTRACT)
    add(cut_extrude8_tool6.solids().sort_by_distance((-31.417026, 5.827078, 12.788777))[0], mode=Mode.SUBTRACT)
    add(cut_extrude8_tool7.solids().sort_by_distance((-51.417026, 5.827078, 12.788777))[0], mode=Mode.SUBTRACT)
    add(cut_extrude8_tool8.solids().sort_by_distance((-71.417026, 5.827078, 12.788777))[0], mode=Mode.SUBTRACT)
    add(cut_extrude8_tool9.solids().sort_by_distance((-91.417026, 5.827078, 12.788777))[0], mode=Mode.SUBTRACT)
    add(cut_extrude8_tool10.solids().sort_by_distance((-111.417026, 5.827078, 12.788777))[0], mode=Mode.SUBTRACT)
    add(cut_extrude8_tool11.solids().sort_by_distance((68.582974, 5.827078, -13.044555))[0], mode=Mode.SUBTRACT)
    add(cut_extrude8_tool12.solids().sort_by_distance((48.582974, 5.827078, -13.044555))[0], mode=Mode.SUBTRACT)
    add(cut_extrude8_tool13.solids().sort_by_distance((28.582974, 5.827078, -13.044555))[0], mode=Mode.SUBTRACT)
    add(cut_extrude8_tool14.solids().sort_by_distance((8.582974, 5.827078, -13.044555))[0], mode=Mode.SUBTRACT)
    add(cut_extrude8_tool15.solids().sort_by_distance((-11.417026, 5.827078, -13.044555))[0], mode=Mode.SUBTRACT)
    add(cut_extrude8_tool16.solids().sort_by_distance((-31.417026, 5.827078, -13.044555))[0], mode=Mode.SUBTRACT)
    add(cut_extrude8_tool17.solids().sort_by_distance((-51.417026, 5.827078, -13.044555))[0], mode=Mode.SUBTRACT)
    add(cut_extrude8_tool18.solids().sort_by_distance((-71.417026, 5.827078, -13.044555))[0], mode=Mode.SUBTRACT)
    add(cut_extrude8_tool19.solids().sort_by_distance((-91.417026, 5.827078, -13.044555))[0], mode=Mode.SUBTRACT)
    add(cut_extrude8_tool20.solids().sort_by_distance((-111.417026, 5.827078, -13.044555))[0], mode=Mode.SUBTRACT)

    # Sketch31 → Boss-Extrude9 (add)
    with BuildSketch(Plane.XZ.offset(-4.160411848).offset(BOSS_EXTRUDE9_START)):
        with Locations((-111.417026086, 12.788776717)):
            Circle(SKETCH31_R)
        with Locations((-111.417026086, -13.044555383)):
            Circle(SKETCH31_R)
    extrude(amount=BOSS_EXTRUDE9_DEPTH)

    # Sketch33 → Cut-Extrude9 (cut, up to next)
    with BuildSketch(Plane(origin=(0, 5.827078448, 0), x_dir=(1, 0, 0), z_dir=(0, 1, 0)), mode=Mode.PRIVATE) as cut_extrude9_sk1:
        with Locations(Location((-112.417026086, -11.055444617, 0), (0, 0, 270))):
            Circle(SKETCH33_R)
    cut_extrude9_tool1 = extrude(cut_extrude9_sk1.sketch, amount=-CUT_EXTRUDE9_REACH, mode=Mode.PRIVATE) & part_1.part
    # Sketch33 → Cut-Extrude9 (cut, up to next)
    with BuildSketch(Plane(origin=(0, 5.827078448, 0), x_dir=(1, 0, 0), z_dir=(0, 1, 0)), mode=Mode.PRIVATE) as cut_extrude9_sk2:
        with Locations(Location((-112.417026086, 11.344555383, 0), (0, 0, 270))):
            Circle(SKETCH33_R)
    cut_extrude9_tool2 = extrude(cut_extrude9_sk2.sketch, amount=-CUT_EXTRUDE9_REACH, mode=Mode.PRIVATE) & part_1.part
    add(cut_extrude9_tool1.solids().sort_by_distance((-112.417026, 5.827078, 11.055445))[0], mode=Mode.SUBTRACT)
    add(cut_extrude9_tool2.solids().sort_by_distance((-112.417026, 5.827078, -11.344555))[0], mode=Mode.SUBTRACT)


solid = part_1.part
